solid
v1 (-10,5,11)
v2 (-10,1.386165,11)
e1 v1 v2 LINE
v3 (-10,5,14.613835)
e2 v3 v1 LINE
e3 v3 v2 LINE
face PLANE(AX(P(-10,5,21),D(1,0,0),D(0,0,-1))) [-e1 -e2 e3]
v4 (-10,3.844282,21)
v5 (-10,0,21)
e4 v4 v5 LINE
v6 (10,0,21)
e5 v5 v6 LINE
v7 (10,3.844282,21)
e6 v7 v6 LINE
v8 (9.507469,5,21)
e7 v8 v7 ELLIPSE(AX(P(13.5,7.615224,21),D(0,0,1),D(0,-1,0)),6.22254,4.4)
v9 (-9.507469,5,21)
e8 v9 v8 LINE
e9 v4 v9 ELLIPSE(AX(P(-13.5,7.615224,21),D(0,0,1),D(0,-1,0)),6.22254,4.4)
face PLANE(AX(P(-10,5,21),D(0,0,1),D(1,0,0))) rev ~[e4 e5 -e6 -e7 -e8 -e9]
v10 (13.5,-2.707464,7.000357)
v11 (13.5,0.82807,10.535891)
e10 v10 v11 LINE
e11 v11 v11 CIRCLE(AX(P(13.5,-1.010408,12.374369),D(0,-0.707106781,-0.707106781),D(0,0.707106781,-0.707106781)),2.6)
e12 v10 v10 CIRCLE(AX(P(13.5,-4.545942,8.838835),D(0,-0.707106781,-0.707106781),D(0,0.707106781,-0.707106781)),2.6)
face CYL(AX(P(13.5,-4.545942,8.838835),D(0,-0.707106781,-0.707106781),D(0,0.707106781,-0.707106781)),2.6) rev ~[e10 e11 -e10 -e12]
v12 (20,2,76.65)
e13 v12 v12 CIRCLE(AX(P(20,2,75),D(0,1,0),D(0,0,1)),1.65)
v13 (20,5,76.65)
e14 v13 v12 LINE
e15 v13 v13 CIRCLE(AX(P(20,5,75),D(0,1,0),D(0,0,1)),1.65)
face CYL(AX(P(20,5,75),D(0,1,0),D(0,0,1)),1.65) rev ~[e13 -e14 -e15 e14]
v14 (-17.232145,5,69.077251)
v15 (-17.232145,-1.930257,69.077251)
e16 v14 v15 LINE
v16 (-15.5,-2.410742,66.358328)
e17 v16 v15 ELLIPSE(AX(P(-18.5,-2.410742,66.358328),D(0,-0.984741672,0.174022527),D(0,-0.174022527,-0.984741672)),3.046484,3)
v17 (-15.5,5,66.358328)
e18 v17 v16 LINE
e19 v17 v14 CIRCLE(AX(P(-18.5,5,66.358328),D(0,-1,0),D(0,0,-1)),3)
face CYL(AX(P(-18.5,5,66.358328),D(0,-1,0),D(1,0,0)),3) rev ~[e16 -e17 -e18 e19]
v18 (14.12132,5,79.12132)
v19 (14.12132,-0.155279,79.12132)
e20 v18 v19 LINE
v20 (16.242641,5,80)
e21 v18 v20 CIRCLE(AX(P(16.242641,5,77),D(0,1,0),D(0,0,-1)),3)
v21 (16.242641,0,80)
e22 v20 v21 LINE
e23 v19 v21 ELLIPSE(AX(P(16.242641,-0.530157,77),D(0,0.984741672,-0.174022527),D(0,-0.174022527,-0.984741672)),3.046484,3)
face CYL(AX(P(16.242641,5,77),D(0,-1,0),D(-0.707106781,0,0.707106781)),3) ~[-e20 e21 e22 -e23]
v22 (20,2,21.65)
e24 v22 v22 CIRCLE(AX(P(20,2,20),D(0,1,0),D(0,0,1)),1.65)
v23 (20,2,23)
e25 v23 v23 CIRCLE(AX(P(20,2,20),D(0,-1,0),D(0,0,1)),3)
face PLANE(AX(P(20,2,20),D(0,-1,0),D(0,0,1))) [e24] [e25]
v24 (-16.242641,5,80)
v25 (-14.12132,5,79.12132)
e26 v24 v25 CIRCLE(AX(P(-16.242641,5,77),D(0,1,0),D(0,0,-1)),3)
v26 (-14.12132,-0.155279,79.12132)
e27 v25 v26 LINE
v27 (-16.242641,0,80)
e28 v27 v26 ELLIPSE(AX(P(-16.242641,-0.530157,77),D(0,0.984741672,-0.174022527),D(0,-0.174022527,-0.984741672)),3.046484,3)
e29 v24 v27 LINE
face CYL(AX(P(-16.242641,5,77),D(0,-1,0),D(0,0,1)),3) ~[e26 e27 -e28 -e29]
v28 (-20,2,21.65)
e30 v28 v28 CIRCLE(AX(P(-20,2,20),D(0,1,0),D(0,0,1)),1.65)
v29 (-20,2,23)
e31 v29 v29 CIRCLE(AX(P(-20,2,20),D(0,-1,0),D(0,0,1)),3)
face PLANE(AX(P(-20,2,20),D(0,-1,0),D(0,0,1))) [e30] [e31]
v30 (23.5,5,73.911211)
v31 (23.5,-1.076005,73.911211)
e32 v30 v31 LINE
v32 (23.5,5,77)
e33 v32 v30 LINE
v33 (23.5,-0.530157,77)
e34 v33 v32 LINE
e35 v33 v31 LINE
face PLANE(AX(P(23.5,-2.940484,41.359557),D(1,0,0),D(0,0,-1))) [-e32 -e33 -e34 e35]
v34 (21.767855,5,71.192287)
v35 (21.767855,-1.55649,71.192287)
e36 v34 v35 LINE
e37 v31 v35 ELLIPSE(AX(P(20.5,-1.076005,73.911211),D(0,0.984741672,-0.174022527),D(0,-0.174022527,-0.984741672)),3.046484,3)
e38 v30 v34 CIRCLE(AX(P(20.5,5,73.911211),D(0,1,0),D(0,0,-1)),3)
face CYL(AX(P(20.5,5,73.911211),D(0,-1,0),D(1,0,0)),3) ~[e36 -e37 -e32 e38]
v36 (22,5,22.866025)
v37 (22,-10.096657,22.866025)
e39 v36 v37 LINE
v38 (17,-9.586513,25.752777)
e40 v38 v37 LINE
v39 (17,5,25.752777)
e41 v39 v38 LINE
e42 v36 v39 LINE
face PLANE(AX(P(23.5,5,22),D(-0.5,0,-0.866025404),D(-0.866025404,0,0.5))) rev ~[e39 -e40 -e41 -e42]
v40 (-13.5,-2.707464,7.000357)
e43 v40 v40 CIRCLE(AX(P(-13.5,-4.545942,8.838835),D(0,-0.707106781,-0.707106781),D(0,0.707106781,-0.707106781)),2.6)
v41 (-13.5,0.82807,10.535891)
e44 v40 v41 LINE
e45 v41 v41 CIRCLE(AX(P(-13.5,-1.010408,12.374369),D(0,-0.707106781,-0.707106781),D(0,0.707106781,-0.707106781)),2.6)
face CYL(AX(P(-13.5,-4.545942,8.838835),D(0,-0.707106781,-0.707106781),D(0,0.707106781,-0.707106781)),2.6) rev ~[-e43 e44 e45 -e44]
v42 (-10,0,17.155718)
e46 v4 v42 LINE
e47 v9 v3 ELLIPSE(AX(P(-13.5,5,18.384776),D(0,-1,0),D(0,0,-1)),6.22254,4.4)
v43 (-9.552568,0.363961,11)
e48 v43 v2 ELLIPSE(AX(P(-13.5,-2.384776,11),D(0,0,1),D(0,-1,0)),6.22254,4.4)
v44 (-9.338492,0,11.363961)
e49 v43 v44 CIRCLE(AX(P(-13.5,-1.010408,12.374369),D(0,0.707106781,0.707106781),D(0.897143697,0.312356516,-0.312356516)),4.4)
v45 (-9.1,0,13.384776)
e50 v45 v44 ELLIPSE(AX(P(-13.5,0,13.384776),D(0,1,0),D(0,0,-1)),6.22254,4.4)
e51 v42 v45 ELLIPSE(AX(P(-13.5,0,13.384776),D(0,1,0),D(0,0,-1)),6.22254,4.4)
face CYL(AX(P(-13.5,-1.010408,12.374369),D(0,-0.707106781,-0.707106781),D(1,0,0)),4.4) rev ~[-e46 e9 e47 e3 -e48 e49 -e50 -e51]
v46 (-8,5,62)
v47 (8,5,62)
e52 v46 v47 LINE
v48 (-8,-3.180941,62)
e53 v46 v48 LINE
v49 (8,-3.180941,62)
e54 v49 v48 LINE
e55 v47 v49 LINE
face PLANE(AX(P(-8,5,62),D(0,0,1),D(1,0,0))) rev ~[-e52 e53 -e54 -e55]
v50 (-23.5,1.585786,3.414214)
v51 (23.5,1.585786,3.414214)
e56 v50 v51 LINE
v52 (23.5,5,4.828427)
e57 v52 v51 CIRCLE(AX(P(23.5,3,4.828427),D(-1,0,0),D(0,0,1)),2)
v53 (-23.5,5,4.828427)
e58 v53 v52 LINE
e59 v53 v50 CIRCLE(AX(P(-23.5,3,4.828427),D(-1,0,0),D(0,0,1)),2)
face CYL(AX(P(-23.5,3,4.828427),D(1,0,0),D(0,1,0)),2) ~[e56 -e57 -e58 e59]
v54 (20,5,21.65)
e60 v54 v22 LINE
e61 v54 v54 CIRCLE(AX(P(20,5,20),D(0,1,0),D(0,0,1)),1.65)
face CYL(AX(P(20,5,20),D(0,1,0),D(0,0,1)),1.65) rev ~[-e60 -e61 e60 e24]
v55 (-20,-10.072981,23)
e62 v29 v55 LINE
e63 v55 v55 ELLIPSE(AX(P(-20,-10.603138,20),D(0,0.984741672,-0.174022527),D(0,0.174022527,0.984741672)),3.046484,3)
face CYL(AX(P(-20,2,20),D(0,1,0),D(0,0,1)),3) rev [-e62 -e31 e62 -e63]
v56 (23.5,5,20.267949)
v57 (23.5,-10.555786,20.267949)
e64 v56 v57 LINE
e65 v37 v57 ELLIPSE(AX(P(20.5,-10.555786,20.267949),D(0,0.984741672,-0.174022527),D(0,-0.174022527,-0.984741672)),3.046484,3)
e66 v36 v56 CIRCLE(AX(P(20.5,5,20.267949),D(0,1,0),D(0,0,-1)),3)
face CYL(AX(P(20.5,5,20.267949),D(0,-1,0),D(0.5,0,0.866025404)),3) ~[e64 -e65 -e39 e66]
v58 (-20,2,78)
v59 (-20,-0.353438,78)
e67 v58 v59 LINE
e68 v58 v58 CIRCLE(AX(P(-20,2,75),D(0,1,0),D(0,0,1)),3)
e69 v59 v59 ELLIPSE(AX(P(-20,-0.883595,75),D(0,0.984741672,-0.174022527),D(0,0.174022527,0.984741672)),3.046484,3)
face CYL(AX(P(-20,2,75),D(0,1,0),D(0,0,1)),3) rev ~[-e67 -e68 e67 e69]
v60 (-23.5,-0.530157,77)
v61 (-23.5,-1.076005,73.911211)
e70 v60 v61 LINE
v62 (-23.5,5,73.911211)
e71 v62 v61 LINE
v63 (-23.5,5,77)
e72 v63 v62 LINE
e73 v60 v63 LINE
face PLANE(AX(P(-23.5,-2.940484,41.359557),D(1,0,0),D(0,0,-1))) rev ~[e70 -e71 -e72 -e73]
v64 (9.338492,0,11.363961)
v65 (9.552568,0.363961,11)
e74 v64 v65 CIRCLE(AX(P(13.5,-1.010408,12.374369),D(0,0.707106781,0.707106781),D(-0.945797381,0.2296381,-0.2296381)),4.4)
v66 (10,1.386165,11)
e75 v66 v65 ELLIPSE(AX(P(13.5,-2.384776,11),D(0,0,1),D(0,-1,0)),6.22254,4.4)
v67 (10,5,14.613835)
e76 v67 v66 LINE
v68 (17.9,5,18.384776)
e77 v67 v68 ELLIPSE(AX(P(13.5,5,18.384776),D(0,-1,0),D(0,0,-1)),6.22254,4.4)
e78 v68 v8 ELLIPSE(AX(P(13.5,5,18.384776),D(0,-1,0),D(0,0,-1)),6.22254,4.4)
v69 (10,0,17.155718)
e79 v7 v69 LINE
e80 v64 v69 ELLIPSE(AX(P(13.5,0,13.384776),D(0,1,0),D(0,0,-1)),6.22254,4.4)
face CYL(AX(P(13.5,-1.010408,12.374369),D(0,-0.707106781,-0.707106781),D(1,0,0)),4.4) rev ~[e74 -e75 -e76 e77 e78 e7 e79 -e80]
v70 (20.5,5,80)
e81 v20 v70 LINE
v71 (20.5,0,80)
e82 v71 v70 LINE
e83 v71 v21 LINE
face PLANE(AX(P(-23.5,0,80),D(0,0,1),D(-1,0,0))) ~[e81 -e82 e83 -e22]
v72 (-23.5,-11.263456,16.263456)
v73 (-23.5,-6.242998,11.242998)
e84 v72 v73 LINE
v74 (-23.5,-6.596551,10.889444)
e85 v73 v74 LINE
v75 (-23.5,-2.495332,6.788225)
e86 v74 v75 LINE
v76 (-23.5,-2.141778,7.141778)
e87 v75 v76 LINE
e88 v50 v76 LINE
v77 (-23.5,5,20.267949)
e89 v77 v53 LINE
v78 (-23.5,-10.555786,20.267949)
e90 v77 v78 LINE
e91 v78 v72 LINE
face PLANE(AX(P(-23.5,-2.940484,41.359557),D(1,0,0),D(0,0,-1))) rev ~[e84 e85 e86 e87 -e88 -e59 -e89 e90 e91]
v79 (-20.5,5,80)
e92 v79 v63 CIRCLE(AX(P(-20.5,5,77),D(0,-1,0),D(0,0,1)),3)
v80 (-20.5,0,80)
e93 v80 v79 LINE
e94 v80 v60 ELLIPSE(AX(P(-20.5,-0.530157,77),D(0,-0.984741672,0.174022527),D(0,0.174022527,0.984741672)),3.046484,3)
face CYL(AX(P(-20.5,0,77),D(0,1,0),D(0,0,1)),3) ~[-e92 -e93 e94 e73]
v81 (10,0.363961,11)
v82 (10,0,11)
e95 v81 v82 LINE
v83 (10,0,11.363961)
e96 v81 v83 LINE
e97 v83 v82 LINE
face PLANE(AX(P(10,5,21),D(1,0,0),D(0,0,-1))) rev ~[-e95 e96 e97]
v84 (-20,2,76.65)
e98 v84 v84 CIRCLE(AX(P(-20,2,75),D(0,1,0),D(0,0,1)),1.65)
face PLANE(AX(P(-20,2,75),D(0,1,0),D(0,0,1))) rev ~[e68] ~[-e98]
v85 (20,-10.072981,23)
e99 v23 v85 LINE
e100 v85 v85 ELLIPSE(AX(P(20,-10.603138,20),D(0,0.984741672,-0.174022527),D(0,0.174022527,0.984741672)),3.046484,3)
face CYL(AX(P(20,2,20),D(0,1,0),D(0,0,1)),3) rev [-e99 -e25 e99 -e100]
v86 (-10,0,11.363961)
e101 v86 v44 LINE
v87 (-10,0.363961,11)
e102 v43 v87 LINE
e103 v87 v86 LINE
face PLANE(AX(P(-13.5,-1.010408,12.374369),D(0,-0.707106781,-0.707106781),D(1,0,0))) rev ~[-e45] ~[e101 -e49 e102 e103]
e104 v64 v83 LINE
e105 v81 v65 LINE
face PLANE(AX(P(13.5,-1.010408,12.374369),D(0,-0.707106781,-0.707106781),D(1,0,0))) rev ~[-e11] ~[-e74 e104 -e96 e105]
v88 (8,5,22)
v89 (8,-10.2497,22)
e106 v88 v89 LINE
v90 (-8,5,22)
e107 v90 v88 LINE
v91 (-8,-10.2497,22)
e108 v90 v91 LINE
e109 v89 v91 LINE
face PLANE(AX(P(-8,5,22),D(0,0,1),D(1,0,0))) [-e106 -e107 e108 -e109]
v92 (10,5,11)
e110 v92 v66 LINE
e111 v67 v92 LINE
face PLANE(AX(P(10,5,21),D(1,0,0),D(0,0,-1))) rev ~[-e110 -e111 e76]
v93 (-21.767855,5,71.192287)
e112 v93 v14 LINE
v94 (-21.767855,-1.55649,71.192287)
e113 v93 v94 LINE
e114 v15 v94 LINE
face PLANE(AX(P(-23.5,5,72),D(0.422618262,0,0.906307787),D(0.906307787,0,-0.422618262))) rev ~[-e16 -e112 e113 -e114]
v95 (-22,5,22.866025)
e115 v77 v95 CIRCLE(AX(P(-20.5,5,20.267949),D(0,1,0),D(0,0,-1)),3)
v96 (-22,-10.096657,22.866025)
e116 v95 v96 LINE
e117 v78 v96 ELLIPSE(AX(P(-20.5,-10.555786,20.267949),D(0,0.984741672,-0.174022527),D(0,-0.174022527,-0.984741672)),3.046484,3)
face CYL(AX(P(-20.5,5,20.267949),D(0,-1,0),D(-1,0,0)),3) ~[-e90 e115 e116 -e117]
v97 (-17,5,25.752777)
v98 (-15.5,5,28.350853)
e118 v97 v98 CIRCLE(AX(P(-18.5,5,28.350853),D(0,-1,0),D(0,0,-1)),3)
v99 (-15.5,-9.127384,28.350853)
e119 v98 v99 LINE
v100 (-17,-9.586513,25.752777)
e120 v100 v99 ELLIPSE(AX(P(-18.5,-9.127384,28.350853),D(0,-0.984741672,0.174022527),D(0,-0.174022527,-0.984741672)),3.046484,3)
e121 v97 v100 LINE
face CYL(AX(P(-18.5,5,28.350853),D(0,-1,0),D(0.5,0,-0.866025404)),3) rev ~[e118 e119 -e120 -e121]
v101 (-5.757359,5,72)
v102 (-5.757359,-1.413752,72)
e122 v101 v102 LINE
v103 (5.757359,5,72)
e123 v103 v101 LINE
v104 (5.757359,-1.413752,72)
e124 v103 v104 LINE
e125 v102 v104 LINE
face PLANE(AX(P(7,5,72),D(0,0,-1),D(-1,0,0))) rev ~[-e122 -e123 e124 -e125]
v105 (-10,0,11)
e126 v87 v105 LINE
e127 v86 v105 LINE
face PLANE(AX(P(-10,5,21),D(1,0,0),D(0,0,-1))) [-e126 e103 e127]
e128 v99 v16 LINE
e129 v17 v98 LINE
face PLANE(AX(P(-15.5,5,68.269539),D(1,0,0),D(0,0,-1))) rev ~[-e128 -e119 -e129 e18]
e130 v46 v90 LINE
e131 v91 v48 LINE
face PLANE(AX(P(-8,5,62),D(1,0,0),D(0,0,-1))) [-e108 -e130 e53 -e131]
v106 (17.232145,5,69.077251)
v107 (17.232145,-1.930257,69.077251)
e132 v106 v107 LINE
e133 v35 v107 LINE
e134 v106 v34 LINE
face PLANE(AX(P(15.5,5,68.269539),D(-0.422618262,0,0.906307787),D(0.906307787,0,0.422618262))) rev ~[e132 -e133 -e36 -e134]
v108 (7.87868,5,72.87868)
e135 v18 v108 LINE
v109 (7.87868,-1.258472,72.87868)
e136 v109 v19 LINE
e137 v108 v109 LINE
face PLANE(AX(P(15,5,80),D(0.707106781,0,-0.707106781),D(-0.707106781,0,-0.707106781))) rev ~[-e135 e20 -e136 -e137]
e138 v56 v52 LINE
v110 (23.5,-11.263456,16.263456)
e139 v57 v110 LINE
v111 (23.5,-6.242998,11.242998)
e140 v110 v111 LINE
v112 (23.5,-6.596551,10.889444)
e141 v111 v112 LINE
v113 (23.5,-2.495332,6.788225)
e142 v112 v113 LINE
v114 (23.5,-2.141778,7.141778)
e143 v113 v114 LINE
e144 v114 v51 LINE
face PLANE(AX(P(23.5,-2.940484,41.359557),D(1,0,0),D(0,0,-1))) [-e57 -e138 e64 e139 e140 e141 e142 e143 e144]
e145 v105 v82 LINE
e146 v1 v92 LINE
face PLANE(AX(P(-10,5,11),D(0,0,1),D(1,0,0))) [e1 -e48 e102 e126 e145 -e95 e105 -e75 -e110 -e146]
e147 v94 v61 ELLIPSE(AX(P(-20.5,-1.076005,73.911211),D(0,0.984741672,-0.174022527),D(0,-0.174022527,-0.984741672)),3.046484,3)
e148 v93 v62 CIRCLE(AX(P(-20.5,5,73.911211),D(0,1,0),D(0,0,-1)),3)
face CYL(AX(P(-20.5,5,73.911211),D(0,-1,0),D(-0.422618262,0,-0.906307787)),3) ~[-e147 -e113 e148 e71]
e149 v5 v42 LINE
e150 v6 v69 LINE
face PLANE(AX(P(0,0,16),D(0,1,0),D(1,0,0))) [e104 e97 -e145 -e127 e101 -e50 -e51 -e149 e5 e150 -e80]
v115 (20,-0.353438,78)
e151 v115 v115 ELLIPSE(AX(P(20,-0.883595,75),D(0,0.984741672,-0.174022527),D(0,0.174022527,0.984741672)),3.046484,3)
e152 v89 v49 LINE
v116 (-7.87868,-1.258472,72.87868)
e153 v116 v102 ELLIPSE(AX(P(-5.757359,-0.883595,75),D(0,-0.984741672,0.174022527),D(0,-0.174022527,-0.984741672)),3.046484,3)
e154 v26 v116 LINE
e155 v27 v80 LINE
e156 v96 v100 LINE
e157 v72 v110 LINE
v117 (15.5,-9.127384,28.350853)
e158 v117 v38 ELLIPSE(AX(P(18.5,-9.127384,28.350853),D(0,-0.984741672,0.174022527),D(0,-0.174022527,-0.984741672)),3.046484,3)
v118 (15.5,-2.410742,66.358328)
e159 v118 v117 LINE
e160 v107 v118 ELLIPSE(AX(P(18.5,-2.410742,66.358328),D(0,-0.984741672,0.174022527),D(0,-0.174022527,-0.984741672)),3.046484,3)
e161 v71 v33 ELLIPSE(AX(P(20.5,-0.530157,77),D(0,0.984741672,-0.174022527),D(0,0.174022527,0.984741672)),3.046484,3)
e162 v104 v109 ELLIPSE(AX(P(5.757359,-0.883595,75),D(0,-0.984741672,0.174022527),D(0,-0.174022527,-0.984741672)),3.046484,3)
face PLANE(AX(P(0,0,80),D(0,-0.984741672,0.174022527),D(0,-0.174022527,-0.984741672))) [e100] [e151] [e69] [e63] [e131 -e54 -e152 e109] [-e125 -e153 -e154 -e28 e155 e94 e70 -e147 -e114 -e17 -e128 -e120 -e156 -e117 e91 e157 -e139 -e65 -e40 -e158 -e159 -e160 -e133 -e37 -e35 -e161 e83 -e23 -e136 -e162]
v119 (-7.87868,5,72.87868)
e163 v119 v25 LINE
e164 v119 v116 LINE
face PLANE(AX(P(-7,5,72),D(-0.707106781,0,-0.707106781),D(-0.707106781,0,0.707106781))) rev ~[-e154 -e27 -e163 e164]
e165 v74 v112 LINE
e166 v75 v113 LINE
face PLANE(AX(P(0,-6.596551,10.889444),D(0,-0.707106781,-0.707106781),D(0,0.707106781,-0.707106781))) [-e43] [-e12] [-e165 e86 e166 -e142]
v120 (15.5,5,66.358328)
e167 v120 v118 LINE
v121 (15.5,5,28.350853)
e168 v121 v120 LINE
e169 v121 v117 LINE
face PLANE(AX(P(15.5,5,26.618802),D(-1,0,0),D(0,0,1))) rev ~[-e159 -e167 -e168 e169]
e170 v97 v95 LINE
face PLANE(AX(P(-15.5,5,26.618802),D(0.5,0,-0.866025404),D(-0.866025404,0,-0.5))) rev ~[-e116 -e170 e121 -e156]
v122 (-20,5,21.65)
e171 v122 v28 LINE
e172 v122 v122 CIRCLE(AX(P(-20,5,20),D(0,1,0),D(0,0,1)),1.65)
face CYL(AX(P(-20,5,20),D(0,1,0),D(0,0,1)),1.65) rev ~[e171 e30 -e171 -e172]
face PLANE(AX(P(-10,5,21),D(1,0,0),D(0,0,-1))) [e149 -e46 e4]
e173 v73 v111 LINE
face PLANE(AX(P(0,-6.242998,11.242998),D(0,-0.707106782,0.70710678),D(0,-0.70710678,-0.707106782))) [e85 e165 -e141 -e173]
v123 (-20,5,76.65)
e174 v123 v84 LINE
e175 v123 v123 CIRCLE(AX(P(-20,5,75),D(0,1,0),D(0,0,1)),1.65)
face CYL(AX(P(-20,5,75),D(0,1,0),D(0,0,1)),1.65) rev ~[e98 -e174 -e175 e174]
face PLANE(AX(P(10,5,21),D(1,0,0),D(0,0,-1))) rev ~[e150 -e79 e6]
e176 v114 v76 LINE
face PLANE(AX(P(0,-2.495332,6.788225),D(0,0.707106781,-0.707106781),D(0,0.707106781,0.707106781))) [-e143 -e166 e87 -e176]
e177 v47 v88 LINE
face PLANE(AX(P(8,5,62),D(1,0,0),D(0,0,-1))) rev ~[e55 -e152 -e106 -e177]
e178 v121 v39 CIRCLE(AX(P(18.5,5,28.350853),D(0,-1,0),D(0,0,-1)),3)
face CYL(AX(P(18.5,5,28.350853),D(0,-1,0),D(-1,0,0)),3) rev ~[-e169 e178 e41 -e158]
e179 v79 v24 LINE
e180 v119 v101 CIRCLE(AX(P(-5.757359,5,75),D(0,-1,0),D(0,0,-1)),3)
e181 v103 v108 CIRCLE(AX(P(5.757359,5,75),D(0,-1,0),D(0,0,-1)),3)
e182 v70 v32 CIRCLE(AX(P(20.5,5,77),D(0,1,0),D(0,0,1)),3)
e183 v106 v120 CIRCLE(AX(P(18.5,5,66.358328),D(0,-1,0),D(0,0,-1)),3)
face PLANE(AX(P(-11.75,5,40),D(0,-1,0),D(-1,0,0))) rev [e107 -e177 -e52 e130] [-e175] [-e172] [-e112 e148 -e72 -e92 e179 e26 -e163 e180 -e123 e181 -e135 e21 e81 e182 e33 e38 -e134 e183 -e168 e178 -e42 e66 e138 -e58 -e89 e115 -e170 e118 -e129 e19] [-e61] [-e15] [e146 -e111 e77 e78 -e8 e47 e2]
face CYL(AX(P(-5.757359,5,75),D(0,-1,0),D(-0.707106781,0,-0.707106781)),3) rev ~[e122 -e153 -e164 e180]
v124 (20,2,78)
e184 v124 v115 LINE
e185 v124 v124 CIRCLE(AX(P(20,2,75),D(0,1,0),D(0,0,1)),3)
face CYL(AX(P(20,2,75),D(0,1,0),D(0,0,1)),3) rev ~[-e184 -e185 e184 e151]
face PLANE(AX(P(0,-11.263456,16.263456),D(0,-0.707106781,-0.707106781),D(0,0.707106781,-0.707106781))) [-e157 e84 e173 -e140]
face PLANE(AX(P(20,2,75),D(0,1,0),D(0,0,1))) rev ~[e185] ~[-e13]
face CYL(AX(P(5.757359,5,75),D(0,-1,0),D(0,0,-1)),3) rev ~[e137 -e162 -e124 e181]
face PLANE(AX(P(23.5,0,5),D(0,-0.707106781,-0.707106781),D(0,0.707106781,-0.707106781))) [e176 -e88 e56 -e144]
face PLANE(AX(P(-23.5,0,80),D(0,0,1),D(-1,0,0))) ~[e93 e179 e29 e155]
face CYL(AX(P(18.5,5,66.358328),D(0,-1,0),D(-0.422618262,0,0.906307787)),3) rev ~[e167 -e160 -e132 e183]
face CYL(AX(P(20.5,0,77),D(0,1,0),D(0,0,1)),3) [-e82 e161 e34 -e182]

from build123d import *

# Parameters (mm, degrees)
EXTRUDE_2_DEPTH      = 5
EXTRUDE_3_DEPTH      = 23.5
SKETCH_3_R           = 1.65
CUT_EXTRUDE_1_DEPTH  = 85.951456727
CUT_EXTRUDE_5_REACH  = 89.951
CUT_EXTRUDE_START    = 3
SKETCH_8_R           = 3
CUT_EXTRUDE_10_REACH = 89.951
CUT_EXTRUDE_START_2  = -3
SKETCH_12_R          = 3
SKETCH_4_W           = 20
SKETCH_4_H           = 10
CUT_EXTRUDE_2_DEPTH  = 5
SKETCH_10_W          = 16
SKETCH_10_H          = 40
CUT_EXTRUDE_11_DEPTH = 85.951456727
FILLET_1_R           = 3
CUT_EXTRUDE_6_DEPTH  = 94.465851734
SKETCH_6_R           = 2.6
CUT_EXTRUDE_3_DEPTH  = 83.421182124
CUT_EXTRUDE_4_REACH  = 89.421
CUT_EXTRUDE_START_3  = -5
SKETCH_7_R           = 4.4
FILLET_3_R           = 2


with BuildPart() as part:
    # 草图2 → 凸台-拉伸2 (new body)
    with BuildSketch(Plane(origin=(0, 0, 0), x_dir=(1, 0, 0), z_dir=(0, 1, 0))):
        Polygon((0, 0), (23.5, 0), (23.5, -19), (23.5, -80), (0, -80), align=None)
    extrude_2 = extrude(amount=EXTRUDE_2_DEPTH)

    # 镜向1: 凸台-拉伸2 across plane
    add(extrude_2.mirror(Plane(origin=(0, 5, 80), x_dir=(0, 0, 1), z_dir=(1, 0, 0))))

    # 草图5 → 凸台-拉伸3 (add, symmetric)
    with BuildSketch(Plane(origin=(0, 0, 0), x_dir=(0, 0, -1), z_dir=(1, 0, 0))):
        Polygon((-80, 0), (-16.263455967, -11.263455967), (-11.242997821, -6.242997821), (-10.88944443, -6.596551211), (-6.788225099, -2.495331881), (-7.14177849, -2.14177849), (-5, 0), align=None)
    extrude(amount=EXTRUDE_3_DEPTH, both=True)

    # 草图3 → 切除-拉伸1 (cut, through all)
    with BuildSketch(Plane(origin=(0, 5, 0), x_dir=(1, 0, 0), z_dir=(0, 1, 0))):
        with Locations(Location((-20, -20, 0), (0, 0, 270))):
            Circle(SKETCH_3_R)
        with Locations(Location((20, -20, 0), (0, 0, 270))):
            Circle(SKETCH_3_R)
        with Locations(Location((-20, -75, 0), (0, 0, 270))):
            Circle(SKETCH_3_R)
        with Locations(Location((20, -75, 0), (0, 0, 270))):
            Circle(SKETCH_3_R)
    extrude(amount=-CUT_EXTRUDE_1_DEPTH, mode=Mode.SUBTRACT)

    # 切除-拉伸5: up to this plane
    cut_extrude_5_end = Plane(origin=(23.5, -13.709378738, 2.422707194), z_dir=(0, 0.9847416717466503, -0.174022527063632))
    # 草图8 → 切除-拉伸5 (cut, up to the surface)
    with BuildSketch(Plane.XZ.offset(-5).offset(CUT_EXTRUDE_START), mode=Mode.PRIVATE) as cut_extrude_5_sk1:
        with Locations(Location((-20, 20, 0), (0, 0, 90))):
            Circle(SKETCH_8_R)
    cut_extrude_5_tool1 = split(extrude(cut_extrude_5_sk1.sketch, amount=CUT_EXTRUDE_5_REACH, mode=Mode.PRIVATE), bisect_by=cut_extrude_5_end, keep=Keep.BOTH, mode=Mode.PRIVATE)
    add(cut_extrude_5_tool1.solids().sort_by_distance((-20, 2, 20))[0], mode=Mode.SUBTRACT)
    # 草图8 → 切除-拉伸5 (cut, up to the surface)
    with BuildSketch(Plane.XZ.offset(-5).offset(CUT_EXTRUDE_START), mode=Mode.PRIVATE) as cut_extrude_5_sk2:
        with Locations(Location((20, 20, 0), (0, 0, 90))):
            Circle(SKETCH_8_R)
    cut_extrude_5_tool2 = split(extrude(cut_extrude_5_sk2.sketch, amount=CUT_EXTRUDE_5_REACH, mode=Mode.PRIVATE), bisect_by=cut_extrude_5_end, keep=Keep.BOTH, mode=Mode.PRIVATE)
    add(cut_extrude_5_tool2.solids().sort_by_distance((20, 2, 20))[0], mode=Mode.SUBTRACT)

    # 切除-拉伸10: up to this plane
    cut_extrude_10_end = Plane(origin=(23.5, -13.709378738, 2.422707194), z_dir=(0, 0.9847416717466503, -0.174022527063632))
    # 草图12 → 切除-拉伸10 (cut, up to the surface)
    with BuildSketch(Plane(origin=(0, 5, 0), x_dir=(1, 0, 0), z_dir=(0, 1, 0)).offset(CUT_EXTRUDE_START_2), mode=Mode.PRIVATE) as cut_extrude_10_sk1:
        with Locations(Location((-20, -75, 0), (0, 0, 270))):
            Circle(SKETCH_12_R)
    cut_extrude_10_tool1 = split(extrude(cut_extrude_10_sk1.sketch, amount=-CUT_EXTRUDE_10_REACH, mode=Mode.PRIVATE), bisect_by=cut_extrude_10_end, keep=Keep.BOTH, mode=Mode.PRIVATE)
    add(cut_extrude_10_tool1.solids().sort_by_distance((-20, 2, 75))[0], mode=Mode.SUBTRACT)
    # 草图12 → 切除-拉伸10 (cut, up to the surface)
    with BuildSketch(Plane(origin=(0, 5, 0), x_dir=(1, 0, 0), z_dir=(0, 1, 0)).offset(CUT_EXTRUDE_START_2), mode=Mode.PRIVATE) as cut_extrude_10_sk2:
        with Locations(Location((20, -75, 0), (0, 0, 270))):
            Circle(SKETCH_12_R)
    cut_extrude_10_tool2 = split(extrude(cut_extrude_10_sk2.sketch, amount=-CUT_EXTRUDE_10_REACH, mode=Mode.PRIVATE), bisect_by=cut_extrude_10_end, keep=Keep.BOTH, mode=Mode.PRIVATE)
    add(cut_extrude_10_tool2.solids().sort_by_distance((20, 2, 75))[0], mode=Mode.SUBTRACT)

    # 草图4 → 切除-拉伸2 (cut)
    with BuildSketch(Plane(origin=(0, 5, 0), x_dir=(1, 0, 0), z_dir=(0, 1, 0))):
        with Locations((0, -16)):
            Rectangle(SKETCH_4_W, SKETCH_4_H)
    extrude(amount=-CUT_EXTRUDE_2_DEPTH, mode=Mode.SUBTRACT)

    # 草图10 → 切除-拉伸11 (cut, through all)
    with BuildSketch(Plane(origin=(0, 5, 0), x_dir=(1, 0, 0), z_dir=(0, 1, 0))):
        with Locations((0, -42)):
            Rectangle(SKETCH_10_W, SKETCH_10_H)
        Polygon((-7, -72), (-15, -80), (15, -80), (7, -72), align=None)
        Polygon((23.5, -22), (15.5, -26.618802154), (15.5, -68.269538735), (23.5, -72), align=None)
        Polygon((-15.5, -26.618802154), (-23.5, -22), (-23.5, -72), (-15.5, -68.269538735), align=None)
    extrude(amount=-CUT_EXTRUDE_11_DEPTH, mode=Mode.SUBTRACT)

    # 圆角1
    fillet_1_edges = [part.edges().sort_by_distance(p)[0] for p in [
        (-23.5, -2.624849927, 22),
        (-23.5, 1.793124148, 72),
        (23.5, 1.793124148, 72),
        (23.5, -2.624849927, 22),
        (15, 2.5, 80),
        (-15, 2.5, 80),
        (-15.5, -2.216734964, 26.618802154),
        (-15.5, 1.463502525, 68.269538735),
        (15.5, 1.463502525, 68.269538735),
        (15.5, -2.216734964, 26.618802154),
        (-7, 1.793124148, 72),
        (7, 1.793124148, 72),
        (-23.5, 2.5, 80),
        (23.5, 2.5, 80),
    ]]
    fillet(fillet_1_edges, radius=FILLET_1_R)

    # 草图9 → 切除-拉伸6 (cut, through all)
    with BuildSketch(Plane(origin=(23.5, 0, 0), x_dir=(0, 0, -1), z_dir=(1, 0, 0))):
        Polygon((-5, 0), (0, 5), (0, 0), align=None)
    extrude(amount=-CUT_EXTRUDE_6_DEPTH, mode=Mode.SUBTRACT)

    # 草图6 → 切除-拉伸3 (cut, through all)
    with BuildSketch(Plane(origin=(0, 2.146446609, 2.146446609), x_dir=(1, 0, 0), z_dir=(0, -0.7071067811865459, -0.7071067811865491))):
        with Locations(Location((-13.5, 9.464466094, 0), (0, 0, 270))):
            Circle(SKETCH_6_R)
        with Locations(Location((13.5, 9.464466094, 0), (0, 0, 270))):
            Circle(SKETCH_6_R)
    extrude(amount=-CUT_EXTRUDE_3_DEPTH, mode=Mode.SUBTRACT)

    # 草图7 → 切除-拉伸4 (cut, up to next)
    with BuildSketch(Plane(origin=(0, 2.146446609, 2.146446609), x_dir=(1, 0, 0), z_dir=(0, -0.7071067811865459, -0.7071067811865491)).offset(CUT_EXTRUDE_START_3), mode=Mode.PRIVATE) as cut_extrude_4_sk1:
        with Locations((-13.5, 9.464466094)):
            Circle(SKETCH_7_R)
    cut_extrude_4_tool1 = extrude(cut_extrude_4_sk1.sketch, amount=-CUT_EXTRUDE_4_REACH, mode=Mode.PRIVATE) & part.part
    # 草图7 → 切除-拉伸4 (cut, up to next)
    with BuildSketch(Plane(origin=(0, 2.146446609, 2.146446609), x_dir=(1, 0, 0), z_dir=(0, -0.7071067811865459, -0.7071067811865491)).offset(CUT_EXTRUDE_START_3), mode=Mode.PRIVATE) as cut_extrude_4_sk2:
        with Locations((13.5, 9.464466094)):
            Circle(SKETCH_7_R)
    cut_extrude_4_tool2 = extrude(cut_extrude_4_sk2.sketch, amount=-CUT_EXTRUDE_4_REACH, mode=Mode.PRIVATE) & part.part
    add(cut_extrude_4_tool1.solids().sort_by_distance((-13.5, -1.010408, 12.374369))[0], mode=Mode.SUBTRACT)
    add(cut_extrude_4_tool2.solids().sort_by_distance((13.5, -1.010408, 12.374369))[0], mode=Mode.SUBTRACT)

    # 圆角3
    fillet_3_edges = [part.edges().sort_by_distance(p)[0] for p in [
        (0, 5, 0),
    ]]
    fillet(fillet_3_edges, radius=FILLET_3_R)


solid = part.part
